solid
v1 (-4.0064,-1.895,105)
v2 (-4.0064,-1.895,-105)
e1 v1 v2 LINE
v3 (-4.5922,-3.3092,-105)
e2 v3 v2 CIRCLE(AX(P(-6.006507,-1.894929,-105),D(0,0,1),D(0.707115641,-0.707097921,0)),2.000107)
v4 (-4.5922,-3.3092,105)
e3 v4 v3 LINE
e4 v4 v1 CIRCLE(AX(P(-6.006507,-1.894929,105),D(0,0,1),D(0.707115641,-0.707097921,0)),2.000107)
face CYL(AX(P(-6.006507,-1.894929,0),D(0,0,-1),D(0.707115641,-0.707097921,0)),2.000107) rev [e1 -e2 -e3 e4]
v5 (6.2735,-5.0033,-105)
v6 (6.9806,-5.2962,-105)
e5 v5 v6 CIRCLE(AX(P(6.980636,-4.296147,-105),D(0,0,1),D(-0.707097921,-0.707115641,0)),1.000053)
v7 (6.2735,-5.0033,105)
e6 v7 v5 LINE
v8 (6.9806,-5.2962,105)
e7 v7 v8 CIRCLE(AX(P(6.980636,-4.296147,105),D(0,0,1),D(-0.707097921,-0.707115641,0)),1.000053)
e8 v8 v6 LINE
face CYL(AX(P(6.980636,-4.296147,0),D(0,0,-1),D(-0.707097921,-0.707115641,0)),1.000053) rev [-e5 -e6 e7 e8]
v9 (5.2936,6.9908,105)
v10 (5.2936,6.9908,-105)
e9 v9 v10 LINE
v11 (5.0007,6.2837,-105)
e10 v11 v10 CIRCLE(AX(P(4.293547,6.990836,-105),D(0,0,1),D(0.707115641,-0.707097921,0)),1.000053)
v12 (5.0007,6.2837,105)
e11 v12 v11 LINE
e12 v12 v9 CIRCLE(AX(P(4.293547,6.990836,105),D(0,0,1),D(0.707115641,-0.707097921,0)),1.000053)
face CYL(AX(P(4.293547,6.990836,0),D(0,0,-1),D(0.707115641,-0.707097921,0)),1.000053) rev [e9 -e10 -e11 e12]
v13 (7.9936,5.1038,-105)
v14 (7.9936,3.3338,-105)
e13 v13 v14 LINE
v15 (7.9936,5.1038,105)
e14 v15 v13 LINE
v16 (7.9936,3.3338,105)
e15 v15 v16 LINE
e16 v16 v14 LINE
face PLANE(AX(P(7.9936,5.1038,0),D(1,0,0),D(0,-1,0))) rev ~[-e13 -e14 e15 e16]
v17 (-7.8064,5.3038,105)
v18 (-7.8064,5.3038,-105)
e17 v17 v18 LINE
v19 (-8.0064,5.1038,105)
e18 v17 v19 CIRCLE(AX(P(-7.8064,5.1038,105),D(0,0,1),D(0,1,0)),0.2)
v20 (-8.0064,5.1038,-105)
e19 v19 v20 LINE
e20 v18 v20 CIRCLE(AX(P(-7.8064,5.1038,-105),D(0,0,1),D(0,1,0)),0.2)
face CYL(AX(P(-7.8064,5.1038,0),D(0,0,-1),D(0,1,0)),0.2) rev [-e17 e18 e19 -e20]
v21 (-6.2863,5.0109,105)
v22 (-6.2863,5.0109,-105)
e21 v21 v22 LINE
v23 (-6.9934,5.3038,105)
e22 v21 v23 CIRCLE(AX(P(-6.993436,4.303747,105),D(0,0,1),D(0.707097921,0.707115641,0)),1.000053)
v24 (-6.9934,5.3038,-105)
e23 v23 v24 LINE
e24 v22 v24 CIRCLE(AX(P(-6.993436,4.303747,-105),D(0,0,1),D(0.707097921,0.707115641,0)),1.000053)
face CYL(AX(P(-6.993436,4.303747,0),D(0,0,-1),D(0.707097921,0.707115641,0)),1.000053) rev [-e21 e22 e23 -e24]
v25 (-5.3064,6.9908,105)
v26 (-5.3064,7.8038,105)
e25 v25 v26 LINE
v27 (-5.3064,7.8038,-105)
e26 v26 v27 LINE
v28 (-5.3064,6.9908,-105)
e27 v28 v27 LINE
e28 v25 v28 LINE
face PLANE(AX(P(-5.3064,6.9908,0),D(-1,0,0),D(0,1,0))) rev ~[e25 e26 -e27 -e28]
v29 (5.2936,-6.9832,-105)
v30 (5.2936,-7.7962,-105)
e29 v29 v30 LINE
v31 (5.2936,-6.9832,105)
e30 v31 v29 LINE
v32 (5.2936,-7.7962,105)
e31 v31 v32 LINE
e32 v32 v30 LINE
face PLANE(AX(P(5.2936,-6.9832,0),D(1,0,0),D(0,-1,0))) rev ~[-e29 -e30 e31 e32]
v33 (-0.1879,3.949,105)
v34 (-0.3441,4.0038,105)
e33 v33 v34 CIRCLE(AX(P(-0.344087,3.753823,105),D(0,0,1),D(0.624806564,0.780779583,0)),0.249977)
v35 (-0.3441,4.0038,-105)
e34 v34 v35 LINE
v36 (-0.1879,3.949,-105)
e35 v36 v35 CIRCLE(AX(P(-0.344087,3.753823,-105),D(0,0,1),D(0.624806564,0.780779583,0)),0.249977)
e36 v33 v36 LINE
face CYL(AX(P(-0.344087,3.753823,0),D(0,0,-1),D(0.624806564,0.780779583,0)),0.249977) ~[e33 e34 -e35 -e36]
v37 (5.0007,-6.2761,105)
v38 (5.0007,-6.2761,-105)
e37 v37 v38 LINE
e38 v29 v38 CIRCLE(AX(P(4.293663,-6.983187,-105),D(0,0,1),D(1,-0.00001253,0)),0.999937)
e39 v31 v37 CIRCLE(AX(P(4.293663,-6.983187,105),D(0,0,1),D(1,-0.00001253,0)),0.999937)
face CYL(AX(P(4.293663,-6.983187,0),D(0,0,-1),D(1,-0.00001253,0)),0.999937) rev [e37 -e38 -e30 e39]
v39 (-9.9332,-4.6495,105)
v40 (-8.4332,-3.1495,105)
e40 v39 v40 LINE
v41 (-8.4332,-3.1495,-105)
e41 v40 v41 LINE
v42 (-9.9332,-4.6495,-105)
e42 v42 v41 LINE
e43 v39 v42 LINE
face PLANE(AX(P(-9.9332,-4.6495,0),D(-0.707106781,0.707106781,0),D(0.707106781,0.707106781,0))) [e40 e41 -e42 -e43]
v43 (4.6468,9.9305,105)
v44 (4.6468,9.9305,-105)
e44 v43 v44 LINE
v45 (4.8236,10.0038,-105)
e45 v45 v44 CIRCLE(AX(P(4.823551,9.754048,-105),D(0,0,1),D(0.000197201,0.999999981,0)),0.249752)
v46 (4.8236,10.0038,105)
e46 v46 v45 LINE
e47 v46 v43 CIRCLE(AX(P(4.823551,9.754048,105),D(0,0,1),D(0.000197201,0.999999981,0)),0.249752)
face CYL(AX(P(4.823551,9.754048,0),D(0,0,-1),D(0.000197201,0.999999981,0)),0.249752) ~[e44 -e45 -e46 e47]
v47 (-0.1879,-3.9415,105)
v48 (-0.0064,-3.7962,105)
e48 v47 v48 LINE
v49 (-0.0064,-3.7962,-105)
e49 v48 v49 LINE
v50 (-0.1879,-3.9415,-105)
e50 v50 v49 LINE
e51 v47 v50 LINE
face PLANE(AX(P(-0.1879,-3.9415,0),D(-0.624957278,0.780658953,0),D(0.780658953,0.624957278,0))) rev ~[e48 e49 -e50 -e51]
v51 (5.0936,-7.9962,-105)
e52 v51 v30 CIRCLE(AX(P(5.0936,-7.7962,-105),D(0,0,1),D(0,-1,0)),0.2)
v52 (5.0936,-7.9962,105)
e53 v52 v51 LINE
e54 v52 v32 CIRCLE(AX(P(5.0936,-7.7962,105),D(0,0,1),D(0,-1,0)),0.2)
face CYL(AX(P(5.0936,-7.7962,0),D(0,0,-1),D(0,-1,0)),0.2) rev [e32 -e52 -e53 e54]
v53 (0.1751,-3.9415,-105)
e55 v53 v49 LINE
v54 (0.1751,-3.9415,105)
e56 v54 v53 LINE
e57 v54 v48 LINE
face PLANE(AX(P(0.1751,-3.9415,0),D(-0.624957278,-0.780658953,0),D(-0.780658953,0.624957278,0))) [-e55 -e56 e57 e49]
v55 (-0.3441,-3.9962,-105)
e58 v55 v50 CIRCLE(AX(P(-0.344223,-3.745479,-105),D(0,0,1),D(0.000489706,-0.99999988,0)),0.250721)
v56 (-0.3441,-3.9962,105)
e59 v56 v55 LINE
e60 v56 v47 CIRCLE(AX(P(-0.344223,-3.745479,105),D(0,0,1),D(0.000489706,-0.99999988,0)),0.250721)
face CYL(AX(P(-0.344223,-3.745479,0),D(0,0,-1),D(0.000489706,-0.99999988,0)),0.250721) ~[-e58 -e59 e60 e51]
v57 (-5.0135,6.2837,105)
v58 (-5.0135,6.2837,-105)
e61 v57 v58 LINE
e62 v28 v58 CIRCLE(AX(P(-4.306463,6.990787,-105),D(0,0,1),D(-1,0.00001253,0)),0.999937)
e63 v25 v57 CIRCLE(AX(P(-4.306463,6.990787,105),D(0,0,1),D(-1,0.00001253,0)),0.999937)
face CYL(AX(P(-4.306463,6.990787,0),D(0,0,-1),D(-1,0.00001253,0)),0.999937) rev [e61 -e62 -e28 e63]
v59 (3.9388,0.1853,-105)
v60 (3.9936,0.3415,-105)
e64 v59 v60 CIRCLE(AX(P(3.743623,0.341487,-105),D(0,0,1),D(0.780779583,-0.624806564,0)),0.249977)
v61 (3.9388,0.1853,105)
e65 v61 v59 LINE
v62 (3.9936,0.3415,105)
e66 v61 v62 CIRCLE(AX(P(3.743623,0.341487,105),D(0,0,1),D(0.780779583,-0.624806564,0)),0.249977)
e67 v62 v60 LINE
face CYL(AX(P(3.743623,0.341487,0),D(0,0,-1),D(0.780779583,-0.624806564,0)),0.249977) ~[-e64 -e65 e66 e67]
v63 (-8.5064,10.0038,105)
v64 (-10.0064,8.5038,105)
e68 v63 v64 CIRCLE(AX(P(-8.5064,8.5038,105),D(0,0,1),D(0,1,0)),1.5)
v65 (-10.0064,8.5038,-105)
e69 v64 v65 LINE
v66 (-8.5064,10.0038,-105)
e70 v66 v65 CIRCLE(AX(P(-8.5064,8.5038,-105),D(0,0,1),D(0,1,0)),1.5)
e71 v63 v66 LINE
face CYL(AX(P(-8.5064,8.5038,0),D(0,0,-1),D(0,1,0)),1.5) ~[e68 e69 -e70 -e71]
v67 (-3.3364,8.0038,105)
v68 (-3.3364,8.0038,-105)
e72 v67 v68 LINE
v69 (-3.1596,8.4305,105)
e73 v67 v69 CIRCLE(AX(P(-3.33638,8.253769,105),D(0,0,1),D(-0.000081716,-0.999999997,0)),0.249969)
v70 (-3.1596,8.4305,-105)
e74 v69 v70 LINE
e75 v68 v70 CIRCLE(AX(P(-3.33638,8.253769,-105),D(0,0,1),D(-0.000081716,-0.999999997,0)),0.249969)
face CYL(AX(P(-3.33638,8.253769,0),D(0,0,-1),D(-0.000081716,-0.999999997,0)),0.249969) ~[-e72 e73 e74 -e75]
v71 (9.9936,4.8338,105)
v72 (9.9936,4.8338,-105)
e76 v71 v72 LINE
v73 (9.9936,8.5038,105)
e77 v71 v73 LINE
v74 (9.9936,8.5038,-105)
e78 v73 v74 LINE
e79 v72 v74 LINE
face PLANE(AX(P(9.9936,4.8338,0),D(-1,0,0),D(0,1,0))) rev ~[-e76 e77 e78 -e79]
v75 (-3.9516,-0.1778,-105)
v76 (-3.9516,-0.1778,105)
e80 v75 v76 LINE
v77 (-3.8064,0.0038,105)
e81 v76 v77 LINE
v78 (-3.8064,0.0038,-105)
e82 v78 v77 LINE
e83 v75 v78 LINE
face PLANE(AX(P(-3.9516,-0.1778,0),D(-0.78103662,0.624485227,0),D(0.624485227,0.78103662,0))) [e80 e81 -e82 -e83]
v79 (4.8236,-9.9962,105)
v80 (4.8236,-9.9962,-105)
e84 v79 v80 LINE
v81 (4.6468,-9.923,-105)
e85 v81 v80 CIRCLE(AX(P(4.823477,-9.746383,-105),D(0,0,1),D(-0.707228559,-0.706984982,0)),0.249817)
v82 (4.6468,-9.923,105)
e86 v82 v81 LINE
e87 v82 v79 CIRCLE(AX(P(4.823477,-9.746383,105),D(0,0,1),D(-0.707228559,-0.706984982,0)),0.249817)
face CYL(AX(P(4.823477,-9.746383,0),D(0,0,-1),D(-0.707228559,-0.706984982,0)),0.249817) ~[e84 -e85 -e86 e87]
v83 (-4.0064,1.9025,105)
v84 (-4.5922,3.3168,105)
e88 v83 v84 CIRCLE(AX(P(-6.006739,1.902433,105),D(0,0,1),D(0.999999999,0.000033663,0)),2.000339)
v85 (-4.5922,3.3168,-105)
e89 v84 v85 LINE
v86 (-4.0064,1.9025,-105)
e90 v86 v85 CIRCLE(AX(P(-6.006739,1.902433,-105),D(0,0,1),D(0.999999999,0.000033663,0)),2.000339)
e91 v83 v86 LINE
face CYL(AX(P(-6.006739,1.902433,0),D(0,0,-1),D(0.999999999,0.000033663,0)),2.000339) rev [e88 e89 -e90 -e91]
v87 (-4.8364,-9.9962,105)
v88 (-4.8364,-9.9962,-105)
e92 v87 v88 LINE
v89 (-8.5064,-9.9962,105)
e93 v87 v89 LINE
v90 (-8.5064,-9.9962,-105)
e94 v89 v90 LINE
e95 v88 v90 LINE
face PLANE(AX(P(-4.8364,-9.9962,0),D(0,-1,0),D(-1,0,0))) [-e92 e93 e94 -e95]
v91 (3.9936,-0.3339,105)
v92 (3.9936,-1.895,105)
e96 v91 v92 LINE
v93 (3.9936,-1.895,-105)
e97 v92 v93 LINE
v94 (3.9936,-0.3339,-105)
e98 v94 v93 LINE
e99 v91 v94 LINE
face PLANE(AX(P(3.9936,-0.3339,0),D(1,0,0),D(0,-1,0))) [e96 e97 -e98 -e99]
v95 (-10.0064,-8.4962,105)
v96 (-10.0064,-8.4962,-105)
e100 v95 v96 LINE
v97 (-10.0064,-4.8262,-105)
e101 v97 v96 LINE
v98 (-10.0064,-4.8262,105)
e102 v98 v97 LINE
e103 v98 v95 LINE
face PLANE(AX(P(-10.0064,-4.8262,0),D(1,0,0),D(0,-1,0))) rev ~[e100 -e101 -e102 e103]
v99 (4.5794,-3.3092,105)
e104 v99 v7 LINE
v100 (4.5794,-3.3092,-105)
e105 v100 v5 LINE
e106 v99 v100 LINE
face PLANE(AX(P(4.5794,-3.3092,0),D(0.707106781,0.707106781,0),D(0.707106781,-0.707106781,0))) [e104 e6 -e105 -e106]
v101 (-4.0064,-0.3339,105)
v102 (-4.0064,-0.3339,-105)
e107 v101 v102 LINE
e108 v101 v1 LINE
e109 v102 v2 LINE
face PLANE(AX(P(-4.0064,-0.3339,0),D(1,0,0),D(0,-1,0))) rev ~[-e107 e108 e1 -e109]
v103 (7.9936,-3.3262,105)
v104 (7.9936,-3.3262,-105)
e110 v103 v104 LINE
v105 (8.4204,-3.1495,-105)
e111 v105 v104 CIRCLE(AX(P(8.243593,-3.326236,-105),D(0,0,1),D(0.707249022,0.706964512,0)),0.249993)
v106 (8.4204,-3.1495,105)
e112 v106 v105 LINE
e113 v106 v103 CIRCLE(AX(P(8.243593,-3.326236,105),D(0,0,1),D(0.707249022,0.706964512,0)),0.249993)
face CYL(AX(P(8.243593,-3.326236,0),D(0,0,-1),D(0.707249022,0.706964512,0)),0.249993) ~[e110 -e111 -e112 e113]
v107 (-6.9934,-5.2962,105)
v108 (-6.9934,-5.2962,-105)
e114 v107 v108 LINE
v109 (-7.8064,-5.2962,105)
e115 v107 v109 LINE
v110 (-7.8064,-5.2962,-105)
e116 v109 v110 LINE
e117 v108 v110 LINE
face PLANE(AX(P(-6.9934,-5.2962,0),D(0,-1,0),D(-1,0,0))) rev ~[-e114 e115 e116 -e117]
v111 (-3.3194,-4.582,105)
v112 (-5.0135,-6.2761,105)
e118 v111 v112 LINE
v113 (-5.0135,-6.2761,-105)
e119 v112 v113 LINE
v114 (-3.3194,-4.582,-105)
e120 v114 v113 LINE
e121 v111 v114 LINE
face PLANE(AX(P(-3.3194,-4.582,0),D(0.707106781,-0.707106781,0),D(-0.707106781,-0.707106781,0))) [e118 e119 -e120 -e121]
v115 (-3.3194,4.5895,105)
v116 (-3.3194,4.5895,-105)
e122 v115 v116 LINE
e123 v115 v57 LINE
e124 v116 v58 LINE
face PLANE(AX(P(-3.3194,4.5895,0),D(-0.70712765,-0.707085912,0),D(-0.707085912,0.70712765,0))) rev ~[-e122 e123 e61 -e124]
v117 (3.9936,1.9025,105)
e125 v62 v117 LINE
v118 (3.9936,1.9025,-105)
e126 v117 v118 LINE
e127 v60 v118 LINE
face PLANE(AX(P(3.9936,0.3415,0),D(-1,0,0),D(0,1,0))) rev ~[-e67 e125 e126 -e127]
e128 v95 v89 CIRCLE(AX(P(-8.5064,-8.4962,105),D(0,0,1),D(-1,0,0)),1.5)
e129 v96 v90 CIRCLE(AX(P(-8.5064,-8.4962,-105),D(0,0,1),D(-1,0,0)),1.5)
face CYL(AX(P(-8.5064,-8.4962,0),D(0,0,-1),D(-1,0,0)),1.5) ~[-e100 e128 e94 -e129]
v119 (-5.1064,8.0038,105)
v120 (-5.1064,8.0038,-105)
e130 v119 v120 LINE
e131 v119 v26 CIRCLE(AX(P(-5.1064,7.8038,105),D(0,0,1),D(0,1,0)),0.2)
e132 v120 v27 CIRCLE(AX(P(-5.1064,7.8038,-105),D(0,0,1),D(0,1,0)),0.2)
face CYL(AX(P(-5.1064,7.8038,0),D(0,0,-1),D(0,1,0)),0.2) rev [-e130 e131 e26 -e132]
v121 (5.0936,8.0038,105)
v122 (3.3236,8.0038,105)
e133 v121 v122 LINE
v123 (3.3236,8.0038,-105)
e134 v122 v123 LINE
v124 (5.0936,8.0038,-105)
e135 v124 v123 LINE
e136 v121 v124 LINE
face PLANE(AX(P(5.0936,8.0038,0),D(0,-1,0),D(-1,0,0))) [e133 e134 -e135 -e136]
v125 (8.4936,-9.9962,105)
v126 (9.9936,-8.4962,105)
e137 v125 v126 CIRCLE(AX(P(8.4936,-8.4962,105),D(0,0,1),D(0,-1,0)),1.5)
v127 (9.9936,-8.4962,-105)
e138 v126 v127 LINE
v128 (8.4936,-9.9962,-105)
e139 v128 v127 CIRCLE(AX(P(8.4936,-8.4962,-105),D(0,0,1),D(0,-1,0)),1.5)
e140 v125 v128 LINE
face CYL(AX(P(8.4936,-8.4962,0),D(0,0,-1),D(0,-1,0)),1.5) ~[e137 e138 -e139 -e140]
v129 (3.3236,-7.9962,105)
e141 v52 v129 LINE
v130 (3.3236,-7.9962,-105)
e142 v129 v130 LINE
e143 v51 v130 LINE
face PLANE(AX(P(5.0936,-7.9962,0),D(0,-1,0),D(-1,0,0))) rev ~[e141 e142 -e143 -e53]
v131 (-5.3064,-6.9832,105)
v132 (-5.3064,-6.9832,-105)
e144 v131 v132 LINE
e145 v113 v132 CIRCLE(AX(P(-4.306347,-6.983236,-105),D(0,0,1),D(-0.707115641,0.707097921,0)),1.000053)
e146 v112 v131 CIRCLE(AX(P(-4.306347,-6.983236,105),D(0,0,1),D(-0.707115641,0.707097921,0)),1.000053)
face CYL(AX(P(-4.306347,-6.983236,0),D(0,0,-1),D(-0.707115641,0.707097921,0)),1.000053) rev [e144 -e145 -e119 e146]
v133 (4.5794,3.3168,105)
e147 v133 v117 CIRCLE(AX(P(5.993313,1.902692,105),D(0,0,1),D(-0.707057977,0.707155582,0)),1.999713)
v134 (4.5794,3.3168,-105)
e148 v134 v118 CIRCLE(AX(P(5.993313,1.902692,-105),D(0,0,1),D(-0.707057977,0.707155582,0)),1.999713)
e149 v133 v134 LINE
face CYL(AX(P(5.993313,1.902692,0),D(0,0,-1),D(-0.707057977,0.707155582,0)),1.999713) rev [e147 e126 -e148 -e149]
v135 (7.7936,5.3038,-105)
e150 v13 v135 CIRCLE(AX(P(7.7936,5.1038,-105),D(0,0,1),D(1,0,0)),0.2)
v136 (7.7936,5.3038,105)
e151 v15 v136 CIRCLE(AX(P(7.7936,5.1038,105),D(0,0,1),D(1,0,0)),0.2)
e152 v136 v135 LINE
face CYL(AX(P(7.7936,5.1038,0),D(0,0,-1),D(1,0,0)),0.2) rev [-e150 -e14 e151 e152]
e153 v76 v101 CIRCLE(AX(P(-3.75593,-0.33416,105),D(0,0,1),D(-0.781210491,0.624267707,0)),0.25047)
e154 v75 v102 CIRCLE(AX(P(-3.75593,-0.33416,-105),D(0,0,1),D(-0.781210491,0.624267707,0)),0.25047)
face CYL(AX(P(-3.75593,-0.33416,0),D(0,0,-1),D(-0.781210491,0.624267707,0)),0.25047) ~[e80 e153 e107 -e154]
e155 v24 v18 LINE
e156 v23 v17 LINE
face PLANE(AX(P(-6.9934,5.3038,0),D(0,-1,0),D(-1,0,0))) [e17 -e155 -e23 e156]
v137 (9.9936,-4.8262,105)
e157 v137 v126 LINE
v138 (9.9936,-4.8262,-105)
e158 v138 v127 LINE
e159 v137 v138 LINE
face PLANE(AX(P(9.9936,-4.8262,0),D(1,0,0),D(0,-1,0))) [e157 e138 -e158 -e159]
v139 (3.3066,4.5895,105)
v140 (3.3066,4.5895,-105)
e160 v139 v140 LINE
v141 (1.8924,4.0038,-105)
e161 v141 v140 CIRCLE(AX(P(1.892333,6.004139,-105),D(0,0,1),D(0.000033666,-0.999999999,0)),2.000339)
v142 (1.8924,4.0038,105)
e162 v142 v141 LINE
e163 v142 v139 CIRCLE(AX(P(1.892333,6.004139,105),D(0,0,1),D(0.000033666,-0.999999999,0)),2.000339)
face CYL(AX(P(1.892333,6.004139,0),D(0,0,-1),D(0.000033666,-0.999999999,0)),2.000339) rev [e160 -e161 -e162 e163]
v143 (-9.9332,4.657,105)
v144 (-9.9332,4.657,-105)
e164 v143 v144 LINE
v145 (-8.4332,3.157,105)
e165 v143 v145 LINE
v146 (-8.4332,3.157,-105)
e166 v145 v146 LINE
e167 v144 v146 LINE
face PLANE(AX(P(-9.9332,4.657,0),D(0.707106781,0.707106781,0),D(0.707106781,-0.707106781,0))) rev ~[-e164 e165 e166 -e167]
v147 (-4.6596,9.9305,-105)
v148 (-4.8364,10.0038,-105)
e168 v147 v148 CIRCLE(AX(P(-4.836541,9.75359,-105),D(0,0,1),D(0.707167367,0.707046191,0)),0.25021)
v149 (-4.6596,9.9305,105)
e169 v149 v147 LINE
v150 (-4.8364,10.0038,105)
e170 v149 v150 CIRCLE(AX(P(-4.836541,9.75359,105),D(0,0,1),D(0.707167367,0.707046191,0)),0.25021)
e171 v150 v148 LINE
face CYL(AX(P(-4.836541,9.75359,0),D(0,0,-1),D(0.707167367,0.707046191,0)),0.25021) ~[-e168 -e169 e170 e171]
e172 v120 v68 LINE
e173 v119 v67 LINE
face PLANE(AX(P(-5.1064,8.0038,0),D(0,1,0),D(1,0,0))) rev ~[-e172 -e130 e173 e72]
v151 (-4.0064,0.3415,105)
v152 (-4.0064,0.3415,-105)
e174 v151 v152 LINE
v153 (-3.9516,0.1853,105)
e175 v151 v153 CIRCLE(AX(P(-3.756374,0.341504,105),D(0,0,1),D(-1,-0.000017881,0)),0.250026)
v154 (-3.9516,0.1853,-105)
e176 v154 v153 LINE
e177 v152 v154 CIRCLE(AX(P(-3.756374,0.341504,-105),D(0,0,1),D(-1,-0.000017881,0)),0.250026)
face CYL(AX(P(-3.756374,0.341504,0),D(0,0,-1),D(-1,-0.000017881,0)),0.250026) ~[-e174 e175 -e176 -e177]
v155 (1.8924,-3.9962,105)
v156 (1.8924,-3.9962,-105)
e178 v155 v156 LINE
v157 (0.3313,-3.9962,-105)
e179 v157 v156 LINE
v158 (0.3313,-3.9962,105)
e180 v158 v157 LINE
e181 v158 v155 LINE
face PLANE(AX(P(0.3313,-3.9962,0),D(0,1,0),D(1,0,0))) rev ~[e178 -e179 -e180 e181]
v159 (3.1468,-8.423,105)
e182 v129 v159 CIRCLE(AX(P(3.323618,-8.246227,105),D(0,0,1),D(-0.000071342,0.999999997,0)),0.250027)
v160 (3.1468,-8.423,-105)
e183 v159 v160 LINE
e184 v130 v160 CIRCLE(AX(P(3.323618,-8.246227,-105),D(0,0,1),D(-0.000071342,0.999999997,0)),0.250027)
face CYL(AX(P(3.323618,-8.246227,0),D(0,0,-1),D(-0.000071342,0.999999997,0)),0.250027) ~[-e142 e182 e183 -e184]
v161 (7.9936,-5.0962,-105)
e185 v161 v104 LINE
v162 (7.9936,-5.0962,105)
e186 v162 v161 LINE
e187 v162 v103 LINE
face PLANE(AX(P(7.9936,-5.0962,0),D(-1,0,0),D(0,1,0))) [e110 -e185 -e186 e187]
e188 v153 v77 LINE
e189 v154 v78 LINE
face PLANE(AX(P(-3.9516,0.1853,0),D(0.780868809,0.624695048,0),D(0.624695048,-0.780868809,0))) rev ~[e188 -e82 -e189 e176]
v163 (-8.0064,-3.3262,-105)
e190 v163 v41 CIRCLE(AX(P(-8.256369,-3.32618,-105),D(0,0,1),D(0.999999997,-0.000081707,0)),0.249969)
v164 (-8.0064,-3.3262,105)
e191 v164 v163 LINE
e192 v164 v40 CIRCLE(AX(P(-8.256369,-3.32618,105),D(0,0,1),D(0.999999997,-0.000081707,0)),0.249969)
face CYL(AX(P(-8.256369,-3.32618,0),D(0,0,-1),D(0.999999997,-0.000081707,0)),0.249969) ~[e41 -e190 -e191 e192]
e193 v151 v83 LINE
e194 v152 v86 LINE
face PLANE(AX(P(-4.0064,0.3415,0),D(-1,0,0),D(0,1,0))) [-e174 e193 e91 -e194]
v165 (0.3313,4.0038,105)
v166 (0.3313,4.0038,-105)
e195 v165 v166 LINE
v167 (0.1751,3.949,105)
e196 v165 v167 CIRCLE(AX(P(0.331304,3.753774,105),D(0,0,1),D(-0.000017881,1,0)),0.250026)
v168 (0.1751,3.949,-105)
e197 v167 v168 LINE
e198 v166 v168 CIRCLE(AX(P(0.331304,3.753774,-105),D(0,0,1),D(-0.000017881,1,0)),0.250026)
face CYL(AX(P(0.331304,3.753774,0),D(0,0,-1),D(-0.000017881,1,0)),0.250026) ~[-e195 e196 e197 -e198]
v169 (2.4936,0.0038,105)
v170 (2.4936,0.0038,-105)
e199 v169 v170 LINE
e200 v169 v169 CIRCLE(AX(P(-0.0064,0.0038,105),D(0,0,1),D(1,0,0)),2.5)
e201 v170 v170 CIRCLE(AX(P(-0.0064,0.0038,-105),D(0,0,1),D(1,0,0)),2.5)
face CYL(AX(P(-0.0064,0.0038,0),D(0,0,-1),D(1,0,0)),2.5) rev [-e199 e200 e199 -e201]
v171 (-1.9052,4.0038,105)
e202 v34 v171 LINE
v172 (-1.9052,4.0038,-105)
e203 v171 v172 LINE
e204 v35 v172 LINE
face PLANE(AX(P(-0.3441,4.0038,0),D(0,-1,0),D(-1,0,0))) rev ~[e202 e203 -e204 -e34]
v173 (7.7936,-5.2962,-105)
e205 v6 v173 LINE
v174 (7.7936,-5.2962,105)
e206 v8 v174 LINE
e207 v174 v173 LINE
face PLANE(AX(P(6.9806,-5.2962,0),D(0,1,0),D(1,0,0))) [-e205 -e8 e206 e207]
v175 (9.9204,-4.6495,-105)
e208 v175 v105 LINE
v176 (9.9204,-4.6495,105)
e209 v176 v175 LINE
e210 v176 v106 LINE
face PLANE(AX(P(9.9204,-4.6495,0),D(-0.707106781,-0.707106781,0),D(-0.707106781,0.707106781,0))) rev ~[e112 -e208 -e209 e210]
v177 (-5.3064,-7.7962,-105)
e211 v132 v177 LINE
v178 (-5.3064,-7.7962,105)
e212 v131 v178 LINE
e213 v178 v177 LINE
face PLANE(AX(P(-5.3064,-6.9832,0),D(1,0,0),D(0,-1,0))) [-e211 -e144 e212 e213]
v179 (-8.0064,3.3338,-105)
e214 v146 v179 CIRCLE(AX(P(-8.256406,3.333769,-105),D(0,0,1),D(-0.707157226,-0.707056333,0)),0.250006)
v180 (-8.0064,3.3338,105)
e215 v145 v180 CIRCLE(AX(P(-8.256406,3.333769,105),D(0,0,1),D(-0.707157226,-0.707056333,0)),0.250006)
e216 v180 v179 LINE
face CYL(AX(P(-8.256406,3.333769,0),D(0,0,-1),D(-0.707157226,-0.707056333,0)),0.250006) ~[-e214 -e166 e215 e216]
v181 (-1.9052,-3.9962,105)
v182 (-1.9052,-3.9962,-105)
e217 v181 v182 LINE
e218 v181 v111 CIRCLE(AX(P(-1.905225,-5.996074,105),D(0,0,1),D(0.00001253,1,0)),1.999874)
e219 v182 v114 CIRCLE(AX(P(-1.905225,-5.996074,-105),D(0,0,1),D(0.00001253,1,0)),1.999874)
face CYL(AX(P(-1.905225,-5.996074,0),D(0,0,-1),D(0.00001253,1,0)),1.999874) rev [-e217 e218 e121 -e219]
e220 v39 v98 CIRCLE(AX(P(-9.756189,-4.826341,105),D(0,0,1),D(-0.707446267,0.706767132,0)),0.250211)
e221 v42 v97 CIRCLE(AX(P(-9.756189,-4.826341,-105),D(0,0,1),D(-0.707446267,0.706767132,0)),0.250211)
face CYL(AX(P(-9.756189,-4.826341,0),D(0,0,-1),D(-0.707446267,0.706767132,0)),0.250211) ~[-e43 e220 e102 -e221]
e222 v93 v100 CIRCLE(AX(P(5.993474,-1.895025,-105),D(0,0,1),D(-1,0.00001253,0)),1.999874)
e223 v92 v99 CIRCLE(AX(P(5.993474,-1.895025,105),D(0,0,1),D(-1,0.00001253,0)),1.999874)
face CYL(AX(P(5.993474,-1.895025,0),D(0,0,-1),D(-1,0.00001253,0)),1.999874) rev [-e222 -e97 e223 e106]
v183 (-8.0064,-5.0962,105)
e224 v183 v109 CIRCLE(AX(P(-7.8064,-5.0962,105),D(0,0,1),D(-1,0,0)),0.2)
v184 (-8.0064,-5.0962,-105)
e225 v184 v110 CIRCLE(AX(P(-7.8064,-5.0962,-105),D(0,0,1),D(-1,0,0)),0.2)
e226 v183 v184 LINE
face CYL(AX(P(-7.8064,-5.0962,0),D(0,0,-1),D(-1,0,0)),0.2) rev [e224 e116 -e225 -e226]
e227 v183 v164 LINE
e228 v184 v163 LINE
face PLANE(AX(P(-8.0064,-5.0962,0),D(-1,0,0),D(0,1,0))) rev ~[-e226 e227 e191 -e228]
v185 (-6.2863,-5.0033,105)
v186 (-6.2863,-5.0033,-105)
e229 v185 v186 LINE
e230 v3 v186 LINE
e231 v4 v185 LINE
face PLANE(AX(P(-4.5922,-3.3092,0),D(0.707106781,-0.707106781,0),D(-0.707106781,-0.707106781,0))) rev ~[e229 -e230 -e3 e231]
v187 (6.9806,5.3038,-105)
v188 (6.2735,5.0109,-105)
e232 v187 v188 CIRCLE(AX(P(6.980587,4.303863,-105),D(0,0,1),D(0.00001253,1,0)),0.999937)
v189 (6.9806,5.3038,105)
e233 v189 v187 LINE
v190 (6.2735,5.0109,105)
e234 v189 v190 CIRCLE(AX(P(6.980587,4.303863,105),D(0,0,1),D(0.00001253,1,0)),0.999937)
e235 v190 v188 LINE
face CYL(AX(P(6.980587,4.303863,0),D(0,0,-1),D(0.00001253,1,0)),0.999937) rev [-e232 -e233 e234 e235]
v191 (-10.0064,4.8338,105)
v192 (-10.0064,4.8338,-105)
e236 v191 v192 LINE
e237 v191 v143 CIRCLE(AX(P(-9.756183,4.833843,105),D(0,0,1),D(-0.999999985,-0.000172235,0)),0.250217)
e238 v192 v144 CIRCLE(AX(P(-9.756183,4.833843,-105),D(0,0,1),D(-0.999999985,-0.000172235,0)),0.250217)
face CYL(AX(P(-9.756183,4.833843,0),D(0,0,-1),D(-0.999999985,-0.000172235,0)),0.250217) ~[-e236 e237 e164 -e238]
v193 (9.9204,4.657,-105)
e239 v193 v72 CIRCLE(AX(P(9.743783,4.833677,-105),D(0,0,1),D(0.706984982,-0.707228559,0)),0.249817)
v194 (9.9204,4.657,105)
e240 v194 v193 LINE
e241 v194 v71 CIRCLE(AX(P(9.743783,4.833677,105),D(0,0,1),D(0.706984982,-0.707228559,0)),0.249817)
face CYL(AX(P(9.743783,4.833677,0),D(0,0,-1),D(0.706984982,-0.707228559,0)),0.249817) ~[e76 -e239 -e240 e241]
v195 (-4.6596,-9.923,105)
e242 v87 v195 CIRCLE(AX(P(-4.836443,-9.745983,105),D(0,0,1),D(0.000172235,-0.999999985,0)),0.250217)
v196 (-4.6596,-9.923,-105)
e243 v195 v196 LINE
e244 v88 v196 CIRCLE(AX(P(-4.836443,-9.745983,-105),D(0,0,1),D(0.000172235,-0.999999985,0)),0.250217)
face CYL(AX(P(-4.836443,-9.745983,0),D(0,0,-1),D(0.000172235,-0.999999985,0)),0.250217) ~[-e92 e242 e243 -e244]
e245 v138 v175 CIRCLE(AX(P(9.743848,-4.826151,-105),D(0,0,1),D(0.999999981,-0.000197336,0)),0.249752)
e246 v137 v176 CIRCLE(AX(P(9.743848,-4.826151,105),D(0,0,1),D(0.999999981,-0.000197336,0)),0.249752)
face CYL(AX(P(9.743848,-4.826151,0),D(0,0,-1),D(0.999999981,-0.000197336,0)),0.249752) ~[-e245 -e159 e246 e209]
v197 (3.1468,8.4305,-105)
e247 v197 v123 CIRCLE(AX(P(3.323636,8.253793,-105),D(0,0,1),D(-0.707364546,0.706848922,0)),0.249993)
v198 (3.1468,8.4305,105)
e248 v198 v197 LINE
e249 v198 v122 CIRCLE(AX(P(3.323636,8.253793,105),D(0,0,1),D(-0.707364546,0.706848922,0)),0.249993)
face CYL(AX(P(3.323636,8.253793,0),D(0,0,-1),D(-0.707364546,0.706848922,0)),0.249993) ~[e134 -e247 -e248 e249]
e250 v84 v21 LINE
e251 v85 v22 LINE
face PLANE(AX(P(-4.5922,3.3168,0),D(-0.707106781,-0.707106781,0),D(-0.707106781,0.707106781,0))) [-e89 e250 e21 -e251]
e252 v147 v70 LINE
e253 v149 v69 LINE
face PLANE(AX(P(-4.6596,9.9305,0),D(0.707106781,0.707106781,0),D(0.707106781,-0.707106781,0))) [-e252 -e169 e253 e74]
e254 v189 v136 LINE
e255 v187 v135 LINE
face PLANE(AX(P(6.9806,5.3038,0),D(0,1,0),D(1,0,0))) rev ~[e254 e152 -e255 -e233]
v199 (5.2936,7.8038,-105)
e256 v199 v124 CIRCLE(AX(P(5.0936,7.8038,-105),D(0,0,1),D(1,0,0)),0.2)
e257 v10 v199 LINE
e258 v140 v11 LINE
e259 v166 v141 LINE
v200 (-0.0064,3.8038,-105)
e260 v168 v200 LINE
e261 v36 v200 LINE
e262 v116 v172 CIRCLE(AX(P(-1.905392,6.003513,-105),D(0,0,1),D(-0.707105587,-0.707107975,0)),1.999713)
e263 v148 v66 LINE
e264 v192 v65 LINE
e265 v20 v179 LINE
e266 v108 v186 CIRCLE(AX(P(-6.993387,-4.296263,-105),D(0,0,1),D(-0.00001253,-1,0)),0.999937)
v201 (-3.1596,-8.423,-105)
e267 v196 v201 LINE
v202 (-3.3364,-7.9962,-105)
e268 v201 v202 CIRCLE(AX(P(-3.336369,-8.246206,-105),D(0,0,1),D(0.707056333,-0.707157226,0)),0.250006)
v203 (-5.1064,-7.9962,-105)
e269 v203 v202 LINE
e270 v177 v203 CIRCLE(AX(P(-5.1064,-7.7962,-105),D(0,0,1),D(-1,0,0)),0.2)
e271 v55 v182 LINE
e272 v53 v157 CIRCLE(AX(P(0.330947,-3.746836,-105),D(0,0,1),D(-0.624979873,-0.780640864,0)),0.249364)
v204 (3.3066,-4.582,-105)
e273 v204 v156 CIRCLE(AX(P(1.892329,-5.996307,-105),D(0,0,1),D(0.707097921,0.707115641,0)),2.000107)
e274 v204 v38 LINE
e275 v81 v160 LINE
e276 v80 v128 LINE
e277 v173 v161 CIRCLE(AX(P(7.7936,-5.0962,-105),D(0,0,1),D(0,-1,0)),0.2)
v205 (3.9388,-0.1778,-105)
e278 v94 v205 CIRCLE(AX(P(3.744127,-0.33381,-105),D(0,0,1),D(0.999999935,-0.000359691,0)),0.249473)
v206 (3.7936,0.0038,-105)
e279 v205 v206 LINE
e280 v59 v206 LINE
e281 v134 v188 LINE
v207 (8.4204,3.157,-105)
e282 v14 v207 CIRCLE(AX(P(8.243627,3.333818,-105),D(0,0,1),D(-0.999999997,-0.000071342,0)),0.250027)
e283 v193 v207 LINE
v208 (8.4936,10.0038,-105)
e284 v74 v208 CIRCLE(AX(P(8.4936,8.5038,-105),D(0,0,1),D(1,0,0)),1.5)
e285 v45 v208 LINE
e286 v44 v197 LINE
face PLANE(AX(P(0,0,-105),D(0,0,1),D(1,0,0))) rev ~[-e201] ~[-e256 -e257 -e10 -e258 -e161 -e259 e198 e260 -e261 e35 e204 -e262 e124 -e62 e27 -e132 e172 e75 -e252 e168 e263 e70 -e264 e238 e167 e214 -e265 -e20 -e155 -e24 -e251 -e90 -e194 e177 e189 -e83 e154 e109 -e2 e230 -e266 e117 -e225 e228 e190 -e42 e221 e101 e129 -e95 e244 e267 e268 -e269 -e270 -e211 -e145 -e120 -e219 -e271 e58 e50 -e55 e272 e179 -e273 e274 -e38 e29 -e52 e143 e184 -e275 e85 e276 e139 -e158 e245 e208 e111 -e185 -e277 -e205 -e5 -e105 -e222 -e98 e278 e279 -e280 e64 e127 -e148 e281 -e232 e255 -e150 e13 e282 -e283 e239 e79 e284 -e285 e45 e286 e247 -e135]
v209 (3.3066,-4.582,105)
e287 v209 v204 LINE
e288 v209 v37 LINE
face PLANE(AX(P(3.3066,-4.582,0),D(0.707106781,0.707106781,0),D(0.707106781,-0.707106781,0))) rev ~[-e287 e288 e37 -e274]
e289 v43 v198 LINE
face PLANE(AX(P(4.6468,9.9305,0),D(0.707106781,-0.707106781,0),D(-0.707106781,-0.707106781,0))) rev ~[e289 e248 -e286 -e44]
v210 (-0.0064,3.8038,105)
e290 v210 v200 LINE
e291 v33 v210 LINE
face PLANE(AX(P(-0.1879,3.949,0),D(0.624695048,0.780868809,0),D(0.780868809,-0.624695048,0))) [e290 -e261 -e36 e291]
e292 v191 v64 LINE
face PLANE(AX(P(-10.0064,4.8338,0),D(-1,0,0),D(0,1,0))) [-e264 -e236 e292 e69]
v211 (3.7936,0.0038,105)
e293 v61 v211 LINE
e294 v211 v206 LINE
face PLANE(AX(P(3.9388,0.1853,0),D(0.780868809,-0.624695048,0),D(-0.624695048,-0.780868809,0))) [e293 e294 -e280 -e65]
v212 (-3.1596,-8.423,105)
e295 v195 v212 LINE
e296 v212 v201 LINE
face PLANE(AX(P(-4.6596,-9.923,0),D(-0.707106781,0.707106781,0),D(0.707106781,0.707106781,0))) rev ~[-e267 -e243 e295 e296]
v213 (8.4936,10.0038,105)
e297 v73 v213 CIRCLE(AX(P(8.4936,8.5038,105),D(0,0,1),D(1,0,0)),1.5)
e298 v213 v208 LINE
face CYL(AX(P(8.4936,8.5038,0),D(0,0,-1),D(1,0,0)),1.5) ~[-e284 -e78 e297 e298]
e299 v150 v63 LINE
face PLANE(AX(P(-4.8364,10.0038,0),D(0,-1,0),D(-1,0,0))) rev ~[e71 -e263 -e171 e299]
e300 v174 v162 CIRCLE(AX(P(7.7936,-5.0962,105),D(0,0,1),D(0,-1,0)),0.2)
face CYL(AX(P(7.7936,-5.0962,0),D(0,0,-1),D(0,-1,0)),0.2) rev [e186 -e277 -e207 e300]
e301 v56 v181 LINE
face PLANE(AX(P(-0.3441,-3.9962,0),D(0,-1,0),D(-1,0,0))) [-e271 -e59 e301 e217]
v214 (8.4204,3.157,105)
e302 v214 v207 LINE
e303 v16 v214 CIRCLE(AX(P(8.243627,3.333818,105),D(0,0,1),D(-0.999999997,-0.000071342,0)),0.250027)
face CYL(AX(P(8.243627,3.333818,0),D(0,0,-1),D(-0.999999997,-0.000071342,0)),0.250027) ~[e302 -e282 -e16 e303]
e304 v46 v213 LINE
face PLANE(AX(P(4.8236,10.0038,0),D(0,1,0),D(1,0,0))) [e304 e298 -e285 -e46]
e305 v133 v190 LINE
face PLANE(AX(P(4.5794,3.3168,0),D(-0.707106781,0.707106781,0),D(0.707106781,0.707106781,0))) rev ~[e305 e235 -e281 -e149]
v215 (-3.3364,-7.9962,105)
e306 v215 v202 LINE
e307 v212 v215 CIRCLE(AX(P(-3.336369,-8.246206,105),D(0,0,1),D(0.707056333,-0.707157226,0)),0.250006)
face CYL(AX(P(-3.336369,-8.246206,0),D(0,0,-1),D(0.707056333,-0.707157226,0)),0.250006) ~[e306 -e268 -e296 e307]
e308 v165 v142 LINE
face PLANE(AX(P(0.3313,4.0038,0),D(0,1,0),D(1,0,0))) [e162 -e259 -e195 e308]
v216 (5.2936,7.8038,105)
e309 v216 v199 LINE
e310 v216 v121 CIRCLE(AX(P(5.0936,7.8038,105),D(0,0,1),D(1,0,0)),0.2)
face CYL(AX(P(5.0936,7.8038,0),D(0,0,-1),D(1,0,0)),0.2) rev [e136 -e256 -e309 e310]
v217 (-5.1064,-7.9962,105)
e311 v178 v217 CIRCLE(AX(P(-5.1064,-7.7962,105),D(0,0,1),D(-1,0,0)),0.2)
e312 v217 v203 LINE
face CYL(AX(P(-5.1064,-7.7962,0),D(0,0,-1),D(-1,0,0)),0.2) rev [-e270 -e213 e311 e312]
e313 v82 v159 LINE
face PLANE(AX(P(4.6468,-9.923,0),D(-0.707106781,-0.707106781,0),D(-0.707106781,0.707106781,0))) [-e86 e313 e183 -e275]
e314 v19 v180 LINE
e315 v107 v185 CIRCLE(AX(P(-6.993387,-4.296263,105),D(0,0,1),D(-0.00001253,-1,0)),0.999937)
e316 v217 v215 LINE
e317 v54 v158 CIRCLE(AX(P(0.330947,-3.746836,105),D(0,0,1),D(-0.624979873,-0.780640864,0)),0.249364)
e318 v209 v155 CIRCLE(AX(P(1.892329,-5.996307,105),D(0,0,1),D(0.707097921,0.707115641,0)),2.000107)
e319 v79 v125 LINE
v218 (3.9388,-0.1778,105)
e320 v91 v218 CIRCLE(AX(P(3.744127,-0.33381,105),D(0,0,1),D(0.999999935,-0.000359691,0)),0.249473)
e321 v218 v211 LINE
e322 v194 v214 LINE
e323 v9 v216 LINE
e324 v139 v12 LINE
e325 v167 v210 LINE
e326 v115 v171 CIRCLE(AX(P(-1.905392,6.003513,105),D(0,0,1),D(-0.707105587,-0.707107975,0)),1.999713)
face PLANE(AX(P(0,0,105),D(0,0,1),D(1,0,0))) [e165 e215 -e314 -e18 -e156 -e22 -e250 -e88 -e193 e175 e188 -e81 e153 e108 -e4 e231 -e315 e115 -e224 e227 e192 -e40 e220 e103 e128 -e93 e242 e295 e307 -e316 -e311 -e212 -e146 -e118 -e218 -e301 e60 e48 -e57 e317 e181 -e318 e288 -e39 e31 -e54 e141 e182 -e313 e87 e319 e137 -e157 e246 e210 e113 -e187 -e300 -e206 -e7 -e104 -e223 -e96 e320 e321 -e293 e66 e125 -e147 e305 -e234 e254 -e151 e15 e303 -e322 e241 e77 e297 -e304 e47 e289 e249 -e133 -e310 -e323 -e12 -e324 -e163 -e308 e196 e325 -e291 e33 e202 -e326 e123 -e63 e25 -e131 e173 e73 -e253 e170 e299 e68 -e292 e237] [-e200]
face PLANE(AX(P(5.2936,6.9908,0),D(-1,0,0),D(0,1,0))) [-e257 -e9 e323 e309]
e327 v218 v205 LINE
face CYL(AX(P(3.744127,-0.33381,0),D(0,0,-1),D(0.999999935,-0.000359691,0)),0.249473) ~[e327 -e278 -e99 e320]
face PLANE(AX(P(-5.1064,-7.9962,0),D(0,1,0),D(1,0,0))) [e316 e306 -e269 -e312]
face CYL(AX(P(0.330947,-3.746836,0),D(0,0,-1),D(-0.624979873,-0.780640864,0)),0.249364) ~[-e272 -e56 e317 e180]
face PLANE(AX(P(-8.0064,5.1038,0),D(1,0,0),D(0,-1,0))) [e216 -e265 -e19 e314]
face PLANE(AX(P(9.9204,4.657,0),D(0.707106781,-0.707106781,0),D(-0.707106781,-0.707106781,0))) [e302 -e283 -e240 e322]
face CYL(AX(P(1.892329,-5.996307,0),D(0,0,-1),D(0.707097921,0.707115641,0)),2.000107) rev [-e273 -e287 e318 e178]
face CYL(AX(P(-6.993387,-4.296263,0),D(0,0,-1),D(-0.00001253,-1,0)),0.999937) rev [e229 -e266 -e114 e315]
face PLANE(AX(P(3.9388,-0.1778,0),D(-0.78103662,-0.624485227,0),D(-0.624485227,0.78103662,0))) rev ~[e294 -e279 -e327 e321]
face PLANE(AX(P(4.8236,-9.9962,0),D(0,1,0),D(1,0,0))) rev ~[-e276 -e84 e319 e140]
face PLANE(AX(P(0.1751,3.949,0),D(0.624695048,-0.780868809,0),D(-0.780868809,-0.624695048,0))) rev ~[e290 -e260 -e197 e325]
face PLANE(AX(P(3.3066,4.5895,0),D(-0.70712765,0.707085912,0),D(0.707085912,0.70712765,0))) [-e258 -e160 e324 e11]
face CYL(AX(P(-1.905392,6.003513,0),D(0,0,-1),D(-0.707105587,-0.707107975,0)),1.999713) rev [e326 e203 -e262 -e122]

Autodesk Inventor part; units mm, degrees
ref_plane "YZ Plane" through (0, 0, 0) normal (1, 0, 0) x (0, 1, 0)
ref_plane "XZ Plane" through (0, 0, 0) normal (0, 1, 0) x (-1, 0, 0)
ref_plane "XY Plane" through (0, 0, 0) normal (0, 0, 1) x (1, 0, 0)
sketch "Эскиз1" plane through (0, 0, 0) normal (0, 0, 1) x (1, 0, 0)
  line L0 (-3.9516, 0.1853) -> (-3.8064, 0.0038)
  line L1 (-3.9516, -0.1778) -> (-3.8064, 0.0038)
  arc A0 (-3.9516, -0.1778) -> (-4.0064, -0.3339) centre (-3.7564, -0.3339) ccw
  line L2 (-4.0064, -0.3339) -> (-4.0064, -1.895)
  arc A1 (-4.5922, -3.3092) -> (-4.0064, -1.895) centre (-6.0064, -1.895) ccw
  line L3 (-4.5922, -3.3092) -> (-6.2863, -5.0033)
  arc A2 (-6.9934, -5.2962) -> (-6.2863, -5.0033) centre (-6.9934, -4.2962) ccw
  line L4 (-6.9934, -5.2962) -> (-7.8064, -5.2962)
  arc A3 (-8.0064, -5.0962) -> (-7.8064, -5.2962) centre (-7.8064, -5.0962) ccw
  line L5 (-8.0064, -5.0962) -> (-8.0064, -3.3262)
  arc A4 (-8.0064, -3.3262) -> (-8.4332, -3.1495) centre (-8.2564, -3.3262) ccw
  line L6 (-9.9332, -4.6495) -> (-8.4332, -3.1495)
  arc A5 (-9.9332, -4.6495) -> (-10.0064, -4.8262) centre (-9.7564, -4.8262) ccw
  line L7 (-10.0064, -4.8262) -> (-10.0064, -8.4962)
  arc A6 (-10.0064, -8.4962) -> (-8.5064, -9.9962) centre (-8.5064, -8.4962) ccw
  line L8 (-4.8364, -9.9962) -> (-8.5064, -9.9962)
  arc A7 (-4.8364, -9.9962) -> (-4.6596, -9.923) centre (-4.8364, -9.7462) ccw
  line L9 (-4.6596, -9.923) -> (-3.1596, -8.423)
  arc A8 (-3.1596, -8.423) -> (-3.3364, -7.9962) centre (-3.3364, -8.2462) ccw
  line L10 (-5.1064, -7.9962) -> (-3.3364, -7.9962)
  arc A9 (-5.3064, -7.7962) -> (-5.1064, -7.9962) centre (-5.1064, -7.7962) ccw
  line L11 (-5.3064, -6.9832) -> (-5.3064, -7.7962)
  arc A10 (-5.0135, -6.2761) -> (-5.3064, -6.9832) centre (-4.3064, -6.9832) ccw
  line L12 (-3.3194, -4.582) -> (-5.0135, -6.2761)
  arc A11 (-1.9052, -3.9962) -> (-3.3194, -4.582) centre (-1.9052, -5.9962) ccw
  line L13 (-0.3441, -3.9962) -> (-1.9052, -3.9962)
  arc A12 (-0.3441, -3.9962) -> (-0.1879, -3.9415) centre (-0.3441, -3.7462) ccw
  line L14 (-0.1879, -3.9415) -> (-0.0064, -3.7962)
  line L15 (0.1751, -3.9415) -> (-0.0064, -3.7962)
  arc A13 (0.1751, -3.9415) -> (0.3313, -3.9962) centre (0.3313, -3.7462) ccw
  line L16 (0.3313, -3.9962) -> (1.8924, -3.9962)
  arc A14 (3.3066, -4.582) -> (1.8924, -3.9962) centre (1.8924, -5.9962) ccw
  line L17 (3.3066, -4.582) -> (5.0007, -6.2761)
  arc A15 (5.2936, -6.9832) -> (5.0007, -6.2761) centre (4.2936, -6.9832) ccw
  line L18 (5.2936, -6.9832) -> (5.2936, -7.7962)
  arc A16 (5.0936, -7.9962) -> (5.2936, -7.7962) centre (5.0936, -7.7962) ccw
  line L19 (5.0936, -7.9962) -> (3.3236, -7.9962)
  arc A17 (3.3236, -7.9962) -> (3.1468, -8.423) centre (3.3236, -8.2462) ccw
  line L20 (4.6468, -9.923) -> (3.1468, -8.423)
  arc A18 (4.6468, -9.923) -> (4.8236, -9.9962) centre (4.8236, -9.7462) ccw
  line L21 (4.8236, -9.9962) -> (8.4936, -9.9962)
  arc A19 (8.4936, -9.9962) -> (9.9936, -8.4962) centre (8.4936, -8.4962) ccw
  line L22 (9.9936, -4.8262) -> (9.9936, -8.4962)
  arc A20 (9.9936, -4.8262) -> (9.9204, -4.6495) centre (9.7436, -4.8262) ccw
  line L23 (9.9204, -4.6495) -> (8.4204, -3.1495)
  arc A21 (8.4204, -3.1495) -> (7.9936, -3.3262) centre (8.2436, -3.3262) ccw
  line L24 (7.9936, -5.0962) -> (7.9936, -3.3262)
  arc A22 (7.7936, -5.2962) -> (7.9936, -5.0962) centre (7.7936, -5.0962) ccw
  line L25 (6.9806, -5.2962) -> (7.7936, -5.2962)
  arc A23 (6.2735, -5.0033) -> (6.9806, -5.2962) centre (6.9806, -4.2962) ccw
  line L26 (4.5794, -3.3092) -> (6.2735, -5.0033)
  arc A24 (3.9936, -1.895) -> (4.5794, -3.3092) centre (5.9936, -1.895) ccw
  line L27 (3.9936, -0.3339) -> (3.9936, -1.895)
  arc A25 (3.9936, -0.3339) -> (3.9388, -0.1778) centre (3.7436, -0.3339) ccw
  line L28 (3.9388, -0.1778) -> (3.7936, 0.0038)
  line L29 (3.9388, 0.1853) -> (3.7936, 0.0038)
  arc A26 (3.9388, 0.1853) -> (3.9936, 0.3415) centre (3.7436, 0.3415) ccw
  line L30 (3.9936, 0.3415) -> (3.9936, 1.9025)
  arc A27 (4.5794, 3.3168) -> (3.9936, 1.9025) centre (5.9936, 1.9025) ccw
  line L31 (4.5794, 3.3168) -> (6.2735, 5.0109)
  arc A28 (6.9806, 5.3038) -> (6.2735, 5.0109) centre (6.9806, 4.3038) ccw
  line L32 (6.9806, 5.3038) -> (7.7936, 5.3038)
  arc A29 (7.9936, 5.1038) -> (7.7936, 5.3038) centre (7.7936, 5.1038) ccw
  line L33 (7.9936, 5.1038) -> (7.9936, 3.3338)
  arc A30 (7.9936, 3.3338) -> (8.4204, 3.157) centre (8.2436, 3.3338) ccw
  line L34 (9.9204, 4.657) -> (8.4204, 3.157)
  arc A31 (9.9204, 4.657) -> (9.9936, 4.8338) centre (9.7436, 4.8338) ccw
  line L35 (9.9936, 4.8338) -> (9.9936, 8.5038)
  arc A32 (9.9936, 8.5038) -> (8.4936, 10.0038) centre (8.4936, 8.5038) ccw
  line L36 (4.8236, 10.0038) -> (8.4936, 10.0038)
  arc A33 (4.8236, 10.0038) -> (4.6468, 9.9305) centre (4.8236, 9.7538) ccw
  line L37 (4.6468, 9.9305) -> (3.1468, 8.4305)
  arc A34 (3.1468, 8.4305) -> (3.3236, 8.0038) centre (3.3236, 8.2538) ccw
  line L38 (5.0936, 8.0038) -> (3.3236, 8.0038)
  arc A35 (5.2936, 7.8038) -> (5.0936, 8.0038) centre (5.0936, 7.8038) ccw
  line L39 (5.2936, 6.9908) -> (5.2936, 7.8038)
  arc A36 (5.0007, 6.2837) -> (5.2936, 6.9908) centre (4.2936, 6.9908) ccw
  line L40 (3.3066, 4.5895) -> (5.0007, 6.2837)
  arc A37 (1.8924, 4.0038) -> (3.3066, 4.5895) centre (1.8924, 6.0038) ccw
  line L41 (0.3313, 4.0038) -> (1.8924, 4.0038)
  arc A38 (0.3313, 4.0038) -> (0.1751, 3.949) centre (0.3313, 3.7538) ccw
  line L42 (0.1751, 3.949) -> (-0.0064, 3.8038)
  line L43 (-0.1879, 3.949) -> (-0.0064, 3.8038)
  arc A39 (-0.1879, 3.949) -> (-0.3441, 4.0038) centre (-0.3441, 3.7538) ccw
  line L44 (-0.3441, 4.0038) -> (-1.9052, 4.0038)
  arc A40 (-3.3194, 4.5895) -> (-1.9052, 4.0038) centre (-1.9052, 6.0038) ccw
  line L45 (-3.3194, 4.5895) -> (-5.0135, 6.2837)
  arc A41 (-5.3064, 6.9908) -> (-5.0135, 6.2837) centre (-4.3064, 6.9908) ccw
  line L46 (-5.3064, 6.9908) -> (-5.3064, 7.8038)
  arc A42 (-5.1064, 8.0038) -> (-5.3064, 7.8038) centre (-5.1064, 7.8038) ccw
  line L47 (-5.1064, 8.0038) -> (-3.3364, 8.0038)
  arc A43 (-3.3364, 8.0038) -> (-3.1596, 8.4305) centre (-3.3364, 8.2538) ccw
  line L48 (-4.6596, 9.9305) -> (-3.1596, 8.4305)
  arc A44 (-4.6596, 9.9305) -> (-4.8364, 10.0038) centre (-4.8364, 9.7538) ccw
  line L49 (-4.8364, 10.0038) -> (-8.5064, 10.0038)
  arc A45 (-8.5064, 10.0038) -> (-10.0064, 8.5038) centre (-8.5064, 8.5038) ccw
  line L50 (-10.0064, 4.8338) -> (-10.0064, 8.5038)
  arc A46 (-10.0064, 4.8338) -> (-9.9332, 4.657) centre (-9.7564, 4.8338) ccw
  line L51 (-9.9332, 4.657) -> (-8.4332, 3.157)
  arc A47 (-8.4332, 3.157) -> (-8.0064, 3.3338) centre (-8.2564, 3.3338) ccw
  line L52 (-8.0064, 5.1038) -> (-8.0064, 3.3338)
  arc A48 (-7.8064, 5.3038) -> (-8.0064, 5.1038) centre (-7.8064, 5.1038) ccw
  line L53 (-6.9934, 5.3038) -> (-7.8064, 5.3038)
  arc A49 (-6.2863, 5.0109) -> (-6.9934, 5.3038) centre (-6.9934, 4.3038) ccw
  line L54 (-4.5922, 3.3168) -> (-6.2863, 5.0109)
  arc A50 (-4.0064, 1.9025) -> (-4.5922, 3.3168) centre (-6.0064, 1.9025) ccw
  line L55 (-4.0064, 0.3415) -> (-4.0064, 1.9025)
  arc A51 (-4.0064, 0.3415) -> (-3.9516, 0.1853) centre (-3.7564, 0.3415) ccw
  circle A52 centre (-0.0064, 0.0038) radius 2.5
  point P0 (0, 0)
  point P1 (-0.0064, 0.0038)
  dimension "d0" = 0.25
  dimension "d1" = 1.5
  dimension "d2" = 0.2
  dimension "d3" = 1
  dimension "d4" = 2
  dimension "d5" = 5
  dimension "d6" = 135
  dimension "d7" = 38.66
  dimension "d8" = 38.66
  dimension "d9" = 45
  dimension "d10" = 2
  dimension "d11" = 4.7
  dimension "d12" = 14
  dimension "d13" = 15.3
  dimension "d14" = 20
  dimension "d15" = 2.829
  dimension "d16" = 4.629
  dimension "d17" = 7.4579
  dimension "d18" = 2.829
  dimension "d19" = 4.629
  dimension "d20" = 7.4579
  dimension "d21" = 10.6
  dimension "d22" = 4.7
  dimension "d23" = 15.3
  dimension "d24" = 2.7
  dimension "d25" = 13.3
  dimension "d26" = 5.9346
  dimension "d27" = 5.9346
  dimension "d28" = 5.9346
  dimension "d29" = 5.9346
  dimension "d30" = 9.9936
  dimension "d31" = 3.7218
  dimension "d32" = 3.7271
  dimension "d33" = 5.3038
  dimension "d34" = 2.96
  dimension "d35" = 2.9647
  dimension "d36" = 2.9742
  dimension "d37" = 2.9684
  dimension "d38" = 8.0064
  dimension "d39" = 10
  dimension "d40" = 3.729
  dimension "d41" = 10
  dimension "d42" = 3.729
extrude "Выдавливание1" add sketch "Эскиз1" along normal mid plane 210
properties part number "AP20x20" material "Aluminium 6061"
